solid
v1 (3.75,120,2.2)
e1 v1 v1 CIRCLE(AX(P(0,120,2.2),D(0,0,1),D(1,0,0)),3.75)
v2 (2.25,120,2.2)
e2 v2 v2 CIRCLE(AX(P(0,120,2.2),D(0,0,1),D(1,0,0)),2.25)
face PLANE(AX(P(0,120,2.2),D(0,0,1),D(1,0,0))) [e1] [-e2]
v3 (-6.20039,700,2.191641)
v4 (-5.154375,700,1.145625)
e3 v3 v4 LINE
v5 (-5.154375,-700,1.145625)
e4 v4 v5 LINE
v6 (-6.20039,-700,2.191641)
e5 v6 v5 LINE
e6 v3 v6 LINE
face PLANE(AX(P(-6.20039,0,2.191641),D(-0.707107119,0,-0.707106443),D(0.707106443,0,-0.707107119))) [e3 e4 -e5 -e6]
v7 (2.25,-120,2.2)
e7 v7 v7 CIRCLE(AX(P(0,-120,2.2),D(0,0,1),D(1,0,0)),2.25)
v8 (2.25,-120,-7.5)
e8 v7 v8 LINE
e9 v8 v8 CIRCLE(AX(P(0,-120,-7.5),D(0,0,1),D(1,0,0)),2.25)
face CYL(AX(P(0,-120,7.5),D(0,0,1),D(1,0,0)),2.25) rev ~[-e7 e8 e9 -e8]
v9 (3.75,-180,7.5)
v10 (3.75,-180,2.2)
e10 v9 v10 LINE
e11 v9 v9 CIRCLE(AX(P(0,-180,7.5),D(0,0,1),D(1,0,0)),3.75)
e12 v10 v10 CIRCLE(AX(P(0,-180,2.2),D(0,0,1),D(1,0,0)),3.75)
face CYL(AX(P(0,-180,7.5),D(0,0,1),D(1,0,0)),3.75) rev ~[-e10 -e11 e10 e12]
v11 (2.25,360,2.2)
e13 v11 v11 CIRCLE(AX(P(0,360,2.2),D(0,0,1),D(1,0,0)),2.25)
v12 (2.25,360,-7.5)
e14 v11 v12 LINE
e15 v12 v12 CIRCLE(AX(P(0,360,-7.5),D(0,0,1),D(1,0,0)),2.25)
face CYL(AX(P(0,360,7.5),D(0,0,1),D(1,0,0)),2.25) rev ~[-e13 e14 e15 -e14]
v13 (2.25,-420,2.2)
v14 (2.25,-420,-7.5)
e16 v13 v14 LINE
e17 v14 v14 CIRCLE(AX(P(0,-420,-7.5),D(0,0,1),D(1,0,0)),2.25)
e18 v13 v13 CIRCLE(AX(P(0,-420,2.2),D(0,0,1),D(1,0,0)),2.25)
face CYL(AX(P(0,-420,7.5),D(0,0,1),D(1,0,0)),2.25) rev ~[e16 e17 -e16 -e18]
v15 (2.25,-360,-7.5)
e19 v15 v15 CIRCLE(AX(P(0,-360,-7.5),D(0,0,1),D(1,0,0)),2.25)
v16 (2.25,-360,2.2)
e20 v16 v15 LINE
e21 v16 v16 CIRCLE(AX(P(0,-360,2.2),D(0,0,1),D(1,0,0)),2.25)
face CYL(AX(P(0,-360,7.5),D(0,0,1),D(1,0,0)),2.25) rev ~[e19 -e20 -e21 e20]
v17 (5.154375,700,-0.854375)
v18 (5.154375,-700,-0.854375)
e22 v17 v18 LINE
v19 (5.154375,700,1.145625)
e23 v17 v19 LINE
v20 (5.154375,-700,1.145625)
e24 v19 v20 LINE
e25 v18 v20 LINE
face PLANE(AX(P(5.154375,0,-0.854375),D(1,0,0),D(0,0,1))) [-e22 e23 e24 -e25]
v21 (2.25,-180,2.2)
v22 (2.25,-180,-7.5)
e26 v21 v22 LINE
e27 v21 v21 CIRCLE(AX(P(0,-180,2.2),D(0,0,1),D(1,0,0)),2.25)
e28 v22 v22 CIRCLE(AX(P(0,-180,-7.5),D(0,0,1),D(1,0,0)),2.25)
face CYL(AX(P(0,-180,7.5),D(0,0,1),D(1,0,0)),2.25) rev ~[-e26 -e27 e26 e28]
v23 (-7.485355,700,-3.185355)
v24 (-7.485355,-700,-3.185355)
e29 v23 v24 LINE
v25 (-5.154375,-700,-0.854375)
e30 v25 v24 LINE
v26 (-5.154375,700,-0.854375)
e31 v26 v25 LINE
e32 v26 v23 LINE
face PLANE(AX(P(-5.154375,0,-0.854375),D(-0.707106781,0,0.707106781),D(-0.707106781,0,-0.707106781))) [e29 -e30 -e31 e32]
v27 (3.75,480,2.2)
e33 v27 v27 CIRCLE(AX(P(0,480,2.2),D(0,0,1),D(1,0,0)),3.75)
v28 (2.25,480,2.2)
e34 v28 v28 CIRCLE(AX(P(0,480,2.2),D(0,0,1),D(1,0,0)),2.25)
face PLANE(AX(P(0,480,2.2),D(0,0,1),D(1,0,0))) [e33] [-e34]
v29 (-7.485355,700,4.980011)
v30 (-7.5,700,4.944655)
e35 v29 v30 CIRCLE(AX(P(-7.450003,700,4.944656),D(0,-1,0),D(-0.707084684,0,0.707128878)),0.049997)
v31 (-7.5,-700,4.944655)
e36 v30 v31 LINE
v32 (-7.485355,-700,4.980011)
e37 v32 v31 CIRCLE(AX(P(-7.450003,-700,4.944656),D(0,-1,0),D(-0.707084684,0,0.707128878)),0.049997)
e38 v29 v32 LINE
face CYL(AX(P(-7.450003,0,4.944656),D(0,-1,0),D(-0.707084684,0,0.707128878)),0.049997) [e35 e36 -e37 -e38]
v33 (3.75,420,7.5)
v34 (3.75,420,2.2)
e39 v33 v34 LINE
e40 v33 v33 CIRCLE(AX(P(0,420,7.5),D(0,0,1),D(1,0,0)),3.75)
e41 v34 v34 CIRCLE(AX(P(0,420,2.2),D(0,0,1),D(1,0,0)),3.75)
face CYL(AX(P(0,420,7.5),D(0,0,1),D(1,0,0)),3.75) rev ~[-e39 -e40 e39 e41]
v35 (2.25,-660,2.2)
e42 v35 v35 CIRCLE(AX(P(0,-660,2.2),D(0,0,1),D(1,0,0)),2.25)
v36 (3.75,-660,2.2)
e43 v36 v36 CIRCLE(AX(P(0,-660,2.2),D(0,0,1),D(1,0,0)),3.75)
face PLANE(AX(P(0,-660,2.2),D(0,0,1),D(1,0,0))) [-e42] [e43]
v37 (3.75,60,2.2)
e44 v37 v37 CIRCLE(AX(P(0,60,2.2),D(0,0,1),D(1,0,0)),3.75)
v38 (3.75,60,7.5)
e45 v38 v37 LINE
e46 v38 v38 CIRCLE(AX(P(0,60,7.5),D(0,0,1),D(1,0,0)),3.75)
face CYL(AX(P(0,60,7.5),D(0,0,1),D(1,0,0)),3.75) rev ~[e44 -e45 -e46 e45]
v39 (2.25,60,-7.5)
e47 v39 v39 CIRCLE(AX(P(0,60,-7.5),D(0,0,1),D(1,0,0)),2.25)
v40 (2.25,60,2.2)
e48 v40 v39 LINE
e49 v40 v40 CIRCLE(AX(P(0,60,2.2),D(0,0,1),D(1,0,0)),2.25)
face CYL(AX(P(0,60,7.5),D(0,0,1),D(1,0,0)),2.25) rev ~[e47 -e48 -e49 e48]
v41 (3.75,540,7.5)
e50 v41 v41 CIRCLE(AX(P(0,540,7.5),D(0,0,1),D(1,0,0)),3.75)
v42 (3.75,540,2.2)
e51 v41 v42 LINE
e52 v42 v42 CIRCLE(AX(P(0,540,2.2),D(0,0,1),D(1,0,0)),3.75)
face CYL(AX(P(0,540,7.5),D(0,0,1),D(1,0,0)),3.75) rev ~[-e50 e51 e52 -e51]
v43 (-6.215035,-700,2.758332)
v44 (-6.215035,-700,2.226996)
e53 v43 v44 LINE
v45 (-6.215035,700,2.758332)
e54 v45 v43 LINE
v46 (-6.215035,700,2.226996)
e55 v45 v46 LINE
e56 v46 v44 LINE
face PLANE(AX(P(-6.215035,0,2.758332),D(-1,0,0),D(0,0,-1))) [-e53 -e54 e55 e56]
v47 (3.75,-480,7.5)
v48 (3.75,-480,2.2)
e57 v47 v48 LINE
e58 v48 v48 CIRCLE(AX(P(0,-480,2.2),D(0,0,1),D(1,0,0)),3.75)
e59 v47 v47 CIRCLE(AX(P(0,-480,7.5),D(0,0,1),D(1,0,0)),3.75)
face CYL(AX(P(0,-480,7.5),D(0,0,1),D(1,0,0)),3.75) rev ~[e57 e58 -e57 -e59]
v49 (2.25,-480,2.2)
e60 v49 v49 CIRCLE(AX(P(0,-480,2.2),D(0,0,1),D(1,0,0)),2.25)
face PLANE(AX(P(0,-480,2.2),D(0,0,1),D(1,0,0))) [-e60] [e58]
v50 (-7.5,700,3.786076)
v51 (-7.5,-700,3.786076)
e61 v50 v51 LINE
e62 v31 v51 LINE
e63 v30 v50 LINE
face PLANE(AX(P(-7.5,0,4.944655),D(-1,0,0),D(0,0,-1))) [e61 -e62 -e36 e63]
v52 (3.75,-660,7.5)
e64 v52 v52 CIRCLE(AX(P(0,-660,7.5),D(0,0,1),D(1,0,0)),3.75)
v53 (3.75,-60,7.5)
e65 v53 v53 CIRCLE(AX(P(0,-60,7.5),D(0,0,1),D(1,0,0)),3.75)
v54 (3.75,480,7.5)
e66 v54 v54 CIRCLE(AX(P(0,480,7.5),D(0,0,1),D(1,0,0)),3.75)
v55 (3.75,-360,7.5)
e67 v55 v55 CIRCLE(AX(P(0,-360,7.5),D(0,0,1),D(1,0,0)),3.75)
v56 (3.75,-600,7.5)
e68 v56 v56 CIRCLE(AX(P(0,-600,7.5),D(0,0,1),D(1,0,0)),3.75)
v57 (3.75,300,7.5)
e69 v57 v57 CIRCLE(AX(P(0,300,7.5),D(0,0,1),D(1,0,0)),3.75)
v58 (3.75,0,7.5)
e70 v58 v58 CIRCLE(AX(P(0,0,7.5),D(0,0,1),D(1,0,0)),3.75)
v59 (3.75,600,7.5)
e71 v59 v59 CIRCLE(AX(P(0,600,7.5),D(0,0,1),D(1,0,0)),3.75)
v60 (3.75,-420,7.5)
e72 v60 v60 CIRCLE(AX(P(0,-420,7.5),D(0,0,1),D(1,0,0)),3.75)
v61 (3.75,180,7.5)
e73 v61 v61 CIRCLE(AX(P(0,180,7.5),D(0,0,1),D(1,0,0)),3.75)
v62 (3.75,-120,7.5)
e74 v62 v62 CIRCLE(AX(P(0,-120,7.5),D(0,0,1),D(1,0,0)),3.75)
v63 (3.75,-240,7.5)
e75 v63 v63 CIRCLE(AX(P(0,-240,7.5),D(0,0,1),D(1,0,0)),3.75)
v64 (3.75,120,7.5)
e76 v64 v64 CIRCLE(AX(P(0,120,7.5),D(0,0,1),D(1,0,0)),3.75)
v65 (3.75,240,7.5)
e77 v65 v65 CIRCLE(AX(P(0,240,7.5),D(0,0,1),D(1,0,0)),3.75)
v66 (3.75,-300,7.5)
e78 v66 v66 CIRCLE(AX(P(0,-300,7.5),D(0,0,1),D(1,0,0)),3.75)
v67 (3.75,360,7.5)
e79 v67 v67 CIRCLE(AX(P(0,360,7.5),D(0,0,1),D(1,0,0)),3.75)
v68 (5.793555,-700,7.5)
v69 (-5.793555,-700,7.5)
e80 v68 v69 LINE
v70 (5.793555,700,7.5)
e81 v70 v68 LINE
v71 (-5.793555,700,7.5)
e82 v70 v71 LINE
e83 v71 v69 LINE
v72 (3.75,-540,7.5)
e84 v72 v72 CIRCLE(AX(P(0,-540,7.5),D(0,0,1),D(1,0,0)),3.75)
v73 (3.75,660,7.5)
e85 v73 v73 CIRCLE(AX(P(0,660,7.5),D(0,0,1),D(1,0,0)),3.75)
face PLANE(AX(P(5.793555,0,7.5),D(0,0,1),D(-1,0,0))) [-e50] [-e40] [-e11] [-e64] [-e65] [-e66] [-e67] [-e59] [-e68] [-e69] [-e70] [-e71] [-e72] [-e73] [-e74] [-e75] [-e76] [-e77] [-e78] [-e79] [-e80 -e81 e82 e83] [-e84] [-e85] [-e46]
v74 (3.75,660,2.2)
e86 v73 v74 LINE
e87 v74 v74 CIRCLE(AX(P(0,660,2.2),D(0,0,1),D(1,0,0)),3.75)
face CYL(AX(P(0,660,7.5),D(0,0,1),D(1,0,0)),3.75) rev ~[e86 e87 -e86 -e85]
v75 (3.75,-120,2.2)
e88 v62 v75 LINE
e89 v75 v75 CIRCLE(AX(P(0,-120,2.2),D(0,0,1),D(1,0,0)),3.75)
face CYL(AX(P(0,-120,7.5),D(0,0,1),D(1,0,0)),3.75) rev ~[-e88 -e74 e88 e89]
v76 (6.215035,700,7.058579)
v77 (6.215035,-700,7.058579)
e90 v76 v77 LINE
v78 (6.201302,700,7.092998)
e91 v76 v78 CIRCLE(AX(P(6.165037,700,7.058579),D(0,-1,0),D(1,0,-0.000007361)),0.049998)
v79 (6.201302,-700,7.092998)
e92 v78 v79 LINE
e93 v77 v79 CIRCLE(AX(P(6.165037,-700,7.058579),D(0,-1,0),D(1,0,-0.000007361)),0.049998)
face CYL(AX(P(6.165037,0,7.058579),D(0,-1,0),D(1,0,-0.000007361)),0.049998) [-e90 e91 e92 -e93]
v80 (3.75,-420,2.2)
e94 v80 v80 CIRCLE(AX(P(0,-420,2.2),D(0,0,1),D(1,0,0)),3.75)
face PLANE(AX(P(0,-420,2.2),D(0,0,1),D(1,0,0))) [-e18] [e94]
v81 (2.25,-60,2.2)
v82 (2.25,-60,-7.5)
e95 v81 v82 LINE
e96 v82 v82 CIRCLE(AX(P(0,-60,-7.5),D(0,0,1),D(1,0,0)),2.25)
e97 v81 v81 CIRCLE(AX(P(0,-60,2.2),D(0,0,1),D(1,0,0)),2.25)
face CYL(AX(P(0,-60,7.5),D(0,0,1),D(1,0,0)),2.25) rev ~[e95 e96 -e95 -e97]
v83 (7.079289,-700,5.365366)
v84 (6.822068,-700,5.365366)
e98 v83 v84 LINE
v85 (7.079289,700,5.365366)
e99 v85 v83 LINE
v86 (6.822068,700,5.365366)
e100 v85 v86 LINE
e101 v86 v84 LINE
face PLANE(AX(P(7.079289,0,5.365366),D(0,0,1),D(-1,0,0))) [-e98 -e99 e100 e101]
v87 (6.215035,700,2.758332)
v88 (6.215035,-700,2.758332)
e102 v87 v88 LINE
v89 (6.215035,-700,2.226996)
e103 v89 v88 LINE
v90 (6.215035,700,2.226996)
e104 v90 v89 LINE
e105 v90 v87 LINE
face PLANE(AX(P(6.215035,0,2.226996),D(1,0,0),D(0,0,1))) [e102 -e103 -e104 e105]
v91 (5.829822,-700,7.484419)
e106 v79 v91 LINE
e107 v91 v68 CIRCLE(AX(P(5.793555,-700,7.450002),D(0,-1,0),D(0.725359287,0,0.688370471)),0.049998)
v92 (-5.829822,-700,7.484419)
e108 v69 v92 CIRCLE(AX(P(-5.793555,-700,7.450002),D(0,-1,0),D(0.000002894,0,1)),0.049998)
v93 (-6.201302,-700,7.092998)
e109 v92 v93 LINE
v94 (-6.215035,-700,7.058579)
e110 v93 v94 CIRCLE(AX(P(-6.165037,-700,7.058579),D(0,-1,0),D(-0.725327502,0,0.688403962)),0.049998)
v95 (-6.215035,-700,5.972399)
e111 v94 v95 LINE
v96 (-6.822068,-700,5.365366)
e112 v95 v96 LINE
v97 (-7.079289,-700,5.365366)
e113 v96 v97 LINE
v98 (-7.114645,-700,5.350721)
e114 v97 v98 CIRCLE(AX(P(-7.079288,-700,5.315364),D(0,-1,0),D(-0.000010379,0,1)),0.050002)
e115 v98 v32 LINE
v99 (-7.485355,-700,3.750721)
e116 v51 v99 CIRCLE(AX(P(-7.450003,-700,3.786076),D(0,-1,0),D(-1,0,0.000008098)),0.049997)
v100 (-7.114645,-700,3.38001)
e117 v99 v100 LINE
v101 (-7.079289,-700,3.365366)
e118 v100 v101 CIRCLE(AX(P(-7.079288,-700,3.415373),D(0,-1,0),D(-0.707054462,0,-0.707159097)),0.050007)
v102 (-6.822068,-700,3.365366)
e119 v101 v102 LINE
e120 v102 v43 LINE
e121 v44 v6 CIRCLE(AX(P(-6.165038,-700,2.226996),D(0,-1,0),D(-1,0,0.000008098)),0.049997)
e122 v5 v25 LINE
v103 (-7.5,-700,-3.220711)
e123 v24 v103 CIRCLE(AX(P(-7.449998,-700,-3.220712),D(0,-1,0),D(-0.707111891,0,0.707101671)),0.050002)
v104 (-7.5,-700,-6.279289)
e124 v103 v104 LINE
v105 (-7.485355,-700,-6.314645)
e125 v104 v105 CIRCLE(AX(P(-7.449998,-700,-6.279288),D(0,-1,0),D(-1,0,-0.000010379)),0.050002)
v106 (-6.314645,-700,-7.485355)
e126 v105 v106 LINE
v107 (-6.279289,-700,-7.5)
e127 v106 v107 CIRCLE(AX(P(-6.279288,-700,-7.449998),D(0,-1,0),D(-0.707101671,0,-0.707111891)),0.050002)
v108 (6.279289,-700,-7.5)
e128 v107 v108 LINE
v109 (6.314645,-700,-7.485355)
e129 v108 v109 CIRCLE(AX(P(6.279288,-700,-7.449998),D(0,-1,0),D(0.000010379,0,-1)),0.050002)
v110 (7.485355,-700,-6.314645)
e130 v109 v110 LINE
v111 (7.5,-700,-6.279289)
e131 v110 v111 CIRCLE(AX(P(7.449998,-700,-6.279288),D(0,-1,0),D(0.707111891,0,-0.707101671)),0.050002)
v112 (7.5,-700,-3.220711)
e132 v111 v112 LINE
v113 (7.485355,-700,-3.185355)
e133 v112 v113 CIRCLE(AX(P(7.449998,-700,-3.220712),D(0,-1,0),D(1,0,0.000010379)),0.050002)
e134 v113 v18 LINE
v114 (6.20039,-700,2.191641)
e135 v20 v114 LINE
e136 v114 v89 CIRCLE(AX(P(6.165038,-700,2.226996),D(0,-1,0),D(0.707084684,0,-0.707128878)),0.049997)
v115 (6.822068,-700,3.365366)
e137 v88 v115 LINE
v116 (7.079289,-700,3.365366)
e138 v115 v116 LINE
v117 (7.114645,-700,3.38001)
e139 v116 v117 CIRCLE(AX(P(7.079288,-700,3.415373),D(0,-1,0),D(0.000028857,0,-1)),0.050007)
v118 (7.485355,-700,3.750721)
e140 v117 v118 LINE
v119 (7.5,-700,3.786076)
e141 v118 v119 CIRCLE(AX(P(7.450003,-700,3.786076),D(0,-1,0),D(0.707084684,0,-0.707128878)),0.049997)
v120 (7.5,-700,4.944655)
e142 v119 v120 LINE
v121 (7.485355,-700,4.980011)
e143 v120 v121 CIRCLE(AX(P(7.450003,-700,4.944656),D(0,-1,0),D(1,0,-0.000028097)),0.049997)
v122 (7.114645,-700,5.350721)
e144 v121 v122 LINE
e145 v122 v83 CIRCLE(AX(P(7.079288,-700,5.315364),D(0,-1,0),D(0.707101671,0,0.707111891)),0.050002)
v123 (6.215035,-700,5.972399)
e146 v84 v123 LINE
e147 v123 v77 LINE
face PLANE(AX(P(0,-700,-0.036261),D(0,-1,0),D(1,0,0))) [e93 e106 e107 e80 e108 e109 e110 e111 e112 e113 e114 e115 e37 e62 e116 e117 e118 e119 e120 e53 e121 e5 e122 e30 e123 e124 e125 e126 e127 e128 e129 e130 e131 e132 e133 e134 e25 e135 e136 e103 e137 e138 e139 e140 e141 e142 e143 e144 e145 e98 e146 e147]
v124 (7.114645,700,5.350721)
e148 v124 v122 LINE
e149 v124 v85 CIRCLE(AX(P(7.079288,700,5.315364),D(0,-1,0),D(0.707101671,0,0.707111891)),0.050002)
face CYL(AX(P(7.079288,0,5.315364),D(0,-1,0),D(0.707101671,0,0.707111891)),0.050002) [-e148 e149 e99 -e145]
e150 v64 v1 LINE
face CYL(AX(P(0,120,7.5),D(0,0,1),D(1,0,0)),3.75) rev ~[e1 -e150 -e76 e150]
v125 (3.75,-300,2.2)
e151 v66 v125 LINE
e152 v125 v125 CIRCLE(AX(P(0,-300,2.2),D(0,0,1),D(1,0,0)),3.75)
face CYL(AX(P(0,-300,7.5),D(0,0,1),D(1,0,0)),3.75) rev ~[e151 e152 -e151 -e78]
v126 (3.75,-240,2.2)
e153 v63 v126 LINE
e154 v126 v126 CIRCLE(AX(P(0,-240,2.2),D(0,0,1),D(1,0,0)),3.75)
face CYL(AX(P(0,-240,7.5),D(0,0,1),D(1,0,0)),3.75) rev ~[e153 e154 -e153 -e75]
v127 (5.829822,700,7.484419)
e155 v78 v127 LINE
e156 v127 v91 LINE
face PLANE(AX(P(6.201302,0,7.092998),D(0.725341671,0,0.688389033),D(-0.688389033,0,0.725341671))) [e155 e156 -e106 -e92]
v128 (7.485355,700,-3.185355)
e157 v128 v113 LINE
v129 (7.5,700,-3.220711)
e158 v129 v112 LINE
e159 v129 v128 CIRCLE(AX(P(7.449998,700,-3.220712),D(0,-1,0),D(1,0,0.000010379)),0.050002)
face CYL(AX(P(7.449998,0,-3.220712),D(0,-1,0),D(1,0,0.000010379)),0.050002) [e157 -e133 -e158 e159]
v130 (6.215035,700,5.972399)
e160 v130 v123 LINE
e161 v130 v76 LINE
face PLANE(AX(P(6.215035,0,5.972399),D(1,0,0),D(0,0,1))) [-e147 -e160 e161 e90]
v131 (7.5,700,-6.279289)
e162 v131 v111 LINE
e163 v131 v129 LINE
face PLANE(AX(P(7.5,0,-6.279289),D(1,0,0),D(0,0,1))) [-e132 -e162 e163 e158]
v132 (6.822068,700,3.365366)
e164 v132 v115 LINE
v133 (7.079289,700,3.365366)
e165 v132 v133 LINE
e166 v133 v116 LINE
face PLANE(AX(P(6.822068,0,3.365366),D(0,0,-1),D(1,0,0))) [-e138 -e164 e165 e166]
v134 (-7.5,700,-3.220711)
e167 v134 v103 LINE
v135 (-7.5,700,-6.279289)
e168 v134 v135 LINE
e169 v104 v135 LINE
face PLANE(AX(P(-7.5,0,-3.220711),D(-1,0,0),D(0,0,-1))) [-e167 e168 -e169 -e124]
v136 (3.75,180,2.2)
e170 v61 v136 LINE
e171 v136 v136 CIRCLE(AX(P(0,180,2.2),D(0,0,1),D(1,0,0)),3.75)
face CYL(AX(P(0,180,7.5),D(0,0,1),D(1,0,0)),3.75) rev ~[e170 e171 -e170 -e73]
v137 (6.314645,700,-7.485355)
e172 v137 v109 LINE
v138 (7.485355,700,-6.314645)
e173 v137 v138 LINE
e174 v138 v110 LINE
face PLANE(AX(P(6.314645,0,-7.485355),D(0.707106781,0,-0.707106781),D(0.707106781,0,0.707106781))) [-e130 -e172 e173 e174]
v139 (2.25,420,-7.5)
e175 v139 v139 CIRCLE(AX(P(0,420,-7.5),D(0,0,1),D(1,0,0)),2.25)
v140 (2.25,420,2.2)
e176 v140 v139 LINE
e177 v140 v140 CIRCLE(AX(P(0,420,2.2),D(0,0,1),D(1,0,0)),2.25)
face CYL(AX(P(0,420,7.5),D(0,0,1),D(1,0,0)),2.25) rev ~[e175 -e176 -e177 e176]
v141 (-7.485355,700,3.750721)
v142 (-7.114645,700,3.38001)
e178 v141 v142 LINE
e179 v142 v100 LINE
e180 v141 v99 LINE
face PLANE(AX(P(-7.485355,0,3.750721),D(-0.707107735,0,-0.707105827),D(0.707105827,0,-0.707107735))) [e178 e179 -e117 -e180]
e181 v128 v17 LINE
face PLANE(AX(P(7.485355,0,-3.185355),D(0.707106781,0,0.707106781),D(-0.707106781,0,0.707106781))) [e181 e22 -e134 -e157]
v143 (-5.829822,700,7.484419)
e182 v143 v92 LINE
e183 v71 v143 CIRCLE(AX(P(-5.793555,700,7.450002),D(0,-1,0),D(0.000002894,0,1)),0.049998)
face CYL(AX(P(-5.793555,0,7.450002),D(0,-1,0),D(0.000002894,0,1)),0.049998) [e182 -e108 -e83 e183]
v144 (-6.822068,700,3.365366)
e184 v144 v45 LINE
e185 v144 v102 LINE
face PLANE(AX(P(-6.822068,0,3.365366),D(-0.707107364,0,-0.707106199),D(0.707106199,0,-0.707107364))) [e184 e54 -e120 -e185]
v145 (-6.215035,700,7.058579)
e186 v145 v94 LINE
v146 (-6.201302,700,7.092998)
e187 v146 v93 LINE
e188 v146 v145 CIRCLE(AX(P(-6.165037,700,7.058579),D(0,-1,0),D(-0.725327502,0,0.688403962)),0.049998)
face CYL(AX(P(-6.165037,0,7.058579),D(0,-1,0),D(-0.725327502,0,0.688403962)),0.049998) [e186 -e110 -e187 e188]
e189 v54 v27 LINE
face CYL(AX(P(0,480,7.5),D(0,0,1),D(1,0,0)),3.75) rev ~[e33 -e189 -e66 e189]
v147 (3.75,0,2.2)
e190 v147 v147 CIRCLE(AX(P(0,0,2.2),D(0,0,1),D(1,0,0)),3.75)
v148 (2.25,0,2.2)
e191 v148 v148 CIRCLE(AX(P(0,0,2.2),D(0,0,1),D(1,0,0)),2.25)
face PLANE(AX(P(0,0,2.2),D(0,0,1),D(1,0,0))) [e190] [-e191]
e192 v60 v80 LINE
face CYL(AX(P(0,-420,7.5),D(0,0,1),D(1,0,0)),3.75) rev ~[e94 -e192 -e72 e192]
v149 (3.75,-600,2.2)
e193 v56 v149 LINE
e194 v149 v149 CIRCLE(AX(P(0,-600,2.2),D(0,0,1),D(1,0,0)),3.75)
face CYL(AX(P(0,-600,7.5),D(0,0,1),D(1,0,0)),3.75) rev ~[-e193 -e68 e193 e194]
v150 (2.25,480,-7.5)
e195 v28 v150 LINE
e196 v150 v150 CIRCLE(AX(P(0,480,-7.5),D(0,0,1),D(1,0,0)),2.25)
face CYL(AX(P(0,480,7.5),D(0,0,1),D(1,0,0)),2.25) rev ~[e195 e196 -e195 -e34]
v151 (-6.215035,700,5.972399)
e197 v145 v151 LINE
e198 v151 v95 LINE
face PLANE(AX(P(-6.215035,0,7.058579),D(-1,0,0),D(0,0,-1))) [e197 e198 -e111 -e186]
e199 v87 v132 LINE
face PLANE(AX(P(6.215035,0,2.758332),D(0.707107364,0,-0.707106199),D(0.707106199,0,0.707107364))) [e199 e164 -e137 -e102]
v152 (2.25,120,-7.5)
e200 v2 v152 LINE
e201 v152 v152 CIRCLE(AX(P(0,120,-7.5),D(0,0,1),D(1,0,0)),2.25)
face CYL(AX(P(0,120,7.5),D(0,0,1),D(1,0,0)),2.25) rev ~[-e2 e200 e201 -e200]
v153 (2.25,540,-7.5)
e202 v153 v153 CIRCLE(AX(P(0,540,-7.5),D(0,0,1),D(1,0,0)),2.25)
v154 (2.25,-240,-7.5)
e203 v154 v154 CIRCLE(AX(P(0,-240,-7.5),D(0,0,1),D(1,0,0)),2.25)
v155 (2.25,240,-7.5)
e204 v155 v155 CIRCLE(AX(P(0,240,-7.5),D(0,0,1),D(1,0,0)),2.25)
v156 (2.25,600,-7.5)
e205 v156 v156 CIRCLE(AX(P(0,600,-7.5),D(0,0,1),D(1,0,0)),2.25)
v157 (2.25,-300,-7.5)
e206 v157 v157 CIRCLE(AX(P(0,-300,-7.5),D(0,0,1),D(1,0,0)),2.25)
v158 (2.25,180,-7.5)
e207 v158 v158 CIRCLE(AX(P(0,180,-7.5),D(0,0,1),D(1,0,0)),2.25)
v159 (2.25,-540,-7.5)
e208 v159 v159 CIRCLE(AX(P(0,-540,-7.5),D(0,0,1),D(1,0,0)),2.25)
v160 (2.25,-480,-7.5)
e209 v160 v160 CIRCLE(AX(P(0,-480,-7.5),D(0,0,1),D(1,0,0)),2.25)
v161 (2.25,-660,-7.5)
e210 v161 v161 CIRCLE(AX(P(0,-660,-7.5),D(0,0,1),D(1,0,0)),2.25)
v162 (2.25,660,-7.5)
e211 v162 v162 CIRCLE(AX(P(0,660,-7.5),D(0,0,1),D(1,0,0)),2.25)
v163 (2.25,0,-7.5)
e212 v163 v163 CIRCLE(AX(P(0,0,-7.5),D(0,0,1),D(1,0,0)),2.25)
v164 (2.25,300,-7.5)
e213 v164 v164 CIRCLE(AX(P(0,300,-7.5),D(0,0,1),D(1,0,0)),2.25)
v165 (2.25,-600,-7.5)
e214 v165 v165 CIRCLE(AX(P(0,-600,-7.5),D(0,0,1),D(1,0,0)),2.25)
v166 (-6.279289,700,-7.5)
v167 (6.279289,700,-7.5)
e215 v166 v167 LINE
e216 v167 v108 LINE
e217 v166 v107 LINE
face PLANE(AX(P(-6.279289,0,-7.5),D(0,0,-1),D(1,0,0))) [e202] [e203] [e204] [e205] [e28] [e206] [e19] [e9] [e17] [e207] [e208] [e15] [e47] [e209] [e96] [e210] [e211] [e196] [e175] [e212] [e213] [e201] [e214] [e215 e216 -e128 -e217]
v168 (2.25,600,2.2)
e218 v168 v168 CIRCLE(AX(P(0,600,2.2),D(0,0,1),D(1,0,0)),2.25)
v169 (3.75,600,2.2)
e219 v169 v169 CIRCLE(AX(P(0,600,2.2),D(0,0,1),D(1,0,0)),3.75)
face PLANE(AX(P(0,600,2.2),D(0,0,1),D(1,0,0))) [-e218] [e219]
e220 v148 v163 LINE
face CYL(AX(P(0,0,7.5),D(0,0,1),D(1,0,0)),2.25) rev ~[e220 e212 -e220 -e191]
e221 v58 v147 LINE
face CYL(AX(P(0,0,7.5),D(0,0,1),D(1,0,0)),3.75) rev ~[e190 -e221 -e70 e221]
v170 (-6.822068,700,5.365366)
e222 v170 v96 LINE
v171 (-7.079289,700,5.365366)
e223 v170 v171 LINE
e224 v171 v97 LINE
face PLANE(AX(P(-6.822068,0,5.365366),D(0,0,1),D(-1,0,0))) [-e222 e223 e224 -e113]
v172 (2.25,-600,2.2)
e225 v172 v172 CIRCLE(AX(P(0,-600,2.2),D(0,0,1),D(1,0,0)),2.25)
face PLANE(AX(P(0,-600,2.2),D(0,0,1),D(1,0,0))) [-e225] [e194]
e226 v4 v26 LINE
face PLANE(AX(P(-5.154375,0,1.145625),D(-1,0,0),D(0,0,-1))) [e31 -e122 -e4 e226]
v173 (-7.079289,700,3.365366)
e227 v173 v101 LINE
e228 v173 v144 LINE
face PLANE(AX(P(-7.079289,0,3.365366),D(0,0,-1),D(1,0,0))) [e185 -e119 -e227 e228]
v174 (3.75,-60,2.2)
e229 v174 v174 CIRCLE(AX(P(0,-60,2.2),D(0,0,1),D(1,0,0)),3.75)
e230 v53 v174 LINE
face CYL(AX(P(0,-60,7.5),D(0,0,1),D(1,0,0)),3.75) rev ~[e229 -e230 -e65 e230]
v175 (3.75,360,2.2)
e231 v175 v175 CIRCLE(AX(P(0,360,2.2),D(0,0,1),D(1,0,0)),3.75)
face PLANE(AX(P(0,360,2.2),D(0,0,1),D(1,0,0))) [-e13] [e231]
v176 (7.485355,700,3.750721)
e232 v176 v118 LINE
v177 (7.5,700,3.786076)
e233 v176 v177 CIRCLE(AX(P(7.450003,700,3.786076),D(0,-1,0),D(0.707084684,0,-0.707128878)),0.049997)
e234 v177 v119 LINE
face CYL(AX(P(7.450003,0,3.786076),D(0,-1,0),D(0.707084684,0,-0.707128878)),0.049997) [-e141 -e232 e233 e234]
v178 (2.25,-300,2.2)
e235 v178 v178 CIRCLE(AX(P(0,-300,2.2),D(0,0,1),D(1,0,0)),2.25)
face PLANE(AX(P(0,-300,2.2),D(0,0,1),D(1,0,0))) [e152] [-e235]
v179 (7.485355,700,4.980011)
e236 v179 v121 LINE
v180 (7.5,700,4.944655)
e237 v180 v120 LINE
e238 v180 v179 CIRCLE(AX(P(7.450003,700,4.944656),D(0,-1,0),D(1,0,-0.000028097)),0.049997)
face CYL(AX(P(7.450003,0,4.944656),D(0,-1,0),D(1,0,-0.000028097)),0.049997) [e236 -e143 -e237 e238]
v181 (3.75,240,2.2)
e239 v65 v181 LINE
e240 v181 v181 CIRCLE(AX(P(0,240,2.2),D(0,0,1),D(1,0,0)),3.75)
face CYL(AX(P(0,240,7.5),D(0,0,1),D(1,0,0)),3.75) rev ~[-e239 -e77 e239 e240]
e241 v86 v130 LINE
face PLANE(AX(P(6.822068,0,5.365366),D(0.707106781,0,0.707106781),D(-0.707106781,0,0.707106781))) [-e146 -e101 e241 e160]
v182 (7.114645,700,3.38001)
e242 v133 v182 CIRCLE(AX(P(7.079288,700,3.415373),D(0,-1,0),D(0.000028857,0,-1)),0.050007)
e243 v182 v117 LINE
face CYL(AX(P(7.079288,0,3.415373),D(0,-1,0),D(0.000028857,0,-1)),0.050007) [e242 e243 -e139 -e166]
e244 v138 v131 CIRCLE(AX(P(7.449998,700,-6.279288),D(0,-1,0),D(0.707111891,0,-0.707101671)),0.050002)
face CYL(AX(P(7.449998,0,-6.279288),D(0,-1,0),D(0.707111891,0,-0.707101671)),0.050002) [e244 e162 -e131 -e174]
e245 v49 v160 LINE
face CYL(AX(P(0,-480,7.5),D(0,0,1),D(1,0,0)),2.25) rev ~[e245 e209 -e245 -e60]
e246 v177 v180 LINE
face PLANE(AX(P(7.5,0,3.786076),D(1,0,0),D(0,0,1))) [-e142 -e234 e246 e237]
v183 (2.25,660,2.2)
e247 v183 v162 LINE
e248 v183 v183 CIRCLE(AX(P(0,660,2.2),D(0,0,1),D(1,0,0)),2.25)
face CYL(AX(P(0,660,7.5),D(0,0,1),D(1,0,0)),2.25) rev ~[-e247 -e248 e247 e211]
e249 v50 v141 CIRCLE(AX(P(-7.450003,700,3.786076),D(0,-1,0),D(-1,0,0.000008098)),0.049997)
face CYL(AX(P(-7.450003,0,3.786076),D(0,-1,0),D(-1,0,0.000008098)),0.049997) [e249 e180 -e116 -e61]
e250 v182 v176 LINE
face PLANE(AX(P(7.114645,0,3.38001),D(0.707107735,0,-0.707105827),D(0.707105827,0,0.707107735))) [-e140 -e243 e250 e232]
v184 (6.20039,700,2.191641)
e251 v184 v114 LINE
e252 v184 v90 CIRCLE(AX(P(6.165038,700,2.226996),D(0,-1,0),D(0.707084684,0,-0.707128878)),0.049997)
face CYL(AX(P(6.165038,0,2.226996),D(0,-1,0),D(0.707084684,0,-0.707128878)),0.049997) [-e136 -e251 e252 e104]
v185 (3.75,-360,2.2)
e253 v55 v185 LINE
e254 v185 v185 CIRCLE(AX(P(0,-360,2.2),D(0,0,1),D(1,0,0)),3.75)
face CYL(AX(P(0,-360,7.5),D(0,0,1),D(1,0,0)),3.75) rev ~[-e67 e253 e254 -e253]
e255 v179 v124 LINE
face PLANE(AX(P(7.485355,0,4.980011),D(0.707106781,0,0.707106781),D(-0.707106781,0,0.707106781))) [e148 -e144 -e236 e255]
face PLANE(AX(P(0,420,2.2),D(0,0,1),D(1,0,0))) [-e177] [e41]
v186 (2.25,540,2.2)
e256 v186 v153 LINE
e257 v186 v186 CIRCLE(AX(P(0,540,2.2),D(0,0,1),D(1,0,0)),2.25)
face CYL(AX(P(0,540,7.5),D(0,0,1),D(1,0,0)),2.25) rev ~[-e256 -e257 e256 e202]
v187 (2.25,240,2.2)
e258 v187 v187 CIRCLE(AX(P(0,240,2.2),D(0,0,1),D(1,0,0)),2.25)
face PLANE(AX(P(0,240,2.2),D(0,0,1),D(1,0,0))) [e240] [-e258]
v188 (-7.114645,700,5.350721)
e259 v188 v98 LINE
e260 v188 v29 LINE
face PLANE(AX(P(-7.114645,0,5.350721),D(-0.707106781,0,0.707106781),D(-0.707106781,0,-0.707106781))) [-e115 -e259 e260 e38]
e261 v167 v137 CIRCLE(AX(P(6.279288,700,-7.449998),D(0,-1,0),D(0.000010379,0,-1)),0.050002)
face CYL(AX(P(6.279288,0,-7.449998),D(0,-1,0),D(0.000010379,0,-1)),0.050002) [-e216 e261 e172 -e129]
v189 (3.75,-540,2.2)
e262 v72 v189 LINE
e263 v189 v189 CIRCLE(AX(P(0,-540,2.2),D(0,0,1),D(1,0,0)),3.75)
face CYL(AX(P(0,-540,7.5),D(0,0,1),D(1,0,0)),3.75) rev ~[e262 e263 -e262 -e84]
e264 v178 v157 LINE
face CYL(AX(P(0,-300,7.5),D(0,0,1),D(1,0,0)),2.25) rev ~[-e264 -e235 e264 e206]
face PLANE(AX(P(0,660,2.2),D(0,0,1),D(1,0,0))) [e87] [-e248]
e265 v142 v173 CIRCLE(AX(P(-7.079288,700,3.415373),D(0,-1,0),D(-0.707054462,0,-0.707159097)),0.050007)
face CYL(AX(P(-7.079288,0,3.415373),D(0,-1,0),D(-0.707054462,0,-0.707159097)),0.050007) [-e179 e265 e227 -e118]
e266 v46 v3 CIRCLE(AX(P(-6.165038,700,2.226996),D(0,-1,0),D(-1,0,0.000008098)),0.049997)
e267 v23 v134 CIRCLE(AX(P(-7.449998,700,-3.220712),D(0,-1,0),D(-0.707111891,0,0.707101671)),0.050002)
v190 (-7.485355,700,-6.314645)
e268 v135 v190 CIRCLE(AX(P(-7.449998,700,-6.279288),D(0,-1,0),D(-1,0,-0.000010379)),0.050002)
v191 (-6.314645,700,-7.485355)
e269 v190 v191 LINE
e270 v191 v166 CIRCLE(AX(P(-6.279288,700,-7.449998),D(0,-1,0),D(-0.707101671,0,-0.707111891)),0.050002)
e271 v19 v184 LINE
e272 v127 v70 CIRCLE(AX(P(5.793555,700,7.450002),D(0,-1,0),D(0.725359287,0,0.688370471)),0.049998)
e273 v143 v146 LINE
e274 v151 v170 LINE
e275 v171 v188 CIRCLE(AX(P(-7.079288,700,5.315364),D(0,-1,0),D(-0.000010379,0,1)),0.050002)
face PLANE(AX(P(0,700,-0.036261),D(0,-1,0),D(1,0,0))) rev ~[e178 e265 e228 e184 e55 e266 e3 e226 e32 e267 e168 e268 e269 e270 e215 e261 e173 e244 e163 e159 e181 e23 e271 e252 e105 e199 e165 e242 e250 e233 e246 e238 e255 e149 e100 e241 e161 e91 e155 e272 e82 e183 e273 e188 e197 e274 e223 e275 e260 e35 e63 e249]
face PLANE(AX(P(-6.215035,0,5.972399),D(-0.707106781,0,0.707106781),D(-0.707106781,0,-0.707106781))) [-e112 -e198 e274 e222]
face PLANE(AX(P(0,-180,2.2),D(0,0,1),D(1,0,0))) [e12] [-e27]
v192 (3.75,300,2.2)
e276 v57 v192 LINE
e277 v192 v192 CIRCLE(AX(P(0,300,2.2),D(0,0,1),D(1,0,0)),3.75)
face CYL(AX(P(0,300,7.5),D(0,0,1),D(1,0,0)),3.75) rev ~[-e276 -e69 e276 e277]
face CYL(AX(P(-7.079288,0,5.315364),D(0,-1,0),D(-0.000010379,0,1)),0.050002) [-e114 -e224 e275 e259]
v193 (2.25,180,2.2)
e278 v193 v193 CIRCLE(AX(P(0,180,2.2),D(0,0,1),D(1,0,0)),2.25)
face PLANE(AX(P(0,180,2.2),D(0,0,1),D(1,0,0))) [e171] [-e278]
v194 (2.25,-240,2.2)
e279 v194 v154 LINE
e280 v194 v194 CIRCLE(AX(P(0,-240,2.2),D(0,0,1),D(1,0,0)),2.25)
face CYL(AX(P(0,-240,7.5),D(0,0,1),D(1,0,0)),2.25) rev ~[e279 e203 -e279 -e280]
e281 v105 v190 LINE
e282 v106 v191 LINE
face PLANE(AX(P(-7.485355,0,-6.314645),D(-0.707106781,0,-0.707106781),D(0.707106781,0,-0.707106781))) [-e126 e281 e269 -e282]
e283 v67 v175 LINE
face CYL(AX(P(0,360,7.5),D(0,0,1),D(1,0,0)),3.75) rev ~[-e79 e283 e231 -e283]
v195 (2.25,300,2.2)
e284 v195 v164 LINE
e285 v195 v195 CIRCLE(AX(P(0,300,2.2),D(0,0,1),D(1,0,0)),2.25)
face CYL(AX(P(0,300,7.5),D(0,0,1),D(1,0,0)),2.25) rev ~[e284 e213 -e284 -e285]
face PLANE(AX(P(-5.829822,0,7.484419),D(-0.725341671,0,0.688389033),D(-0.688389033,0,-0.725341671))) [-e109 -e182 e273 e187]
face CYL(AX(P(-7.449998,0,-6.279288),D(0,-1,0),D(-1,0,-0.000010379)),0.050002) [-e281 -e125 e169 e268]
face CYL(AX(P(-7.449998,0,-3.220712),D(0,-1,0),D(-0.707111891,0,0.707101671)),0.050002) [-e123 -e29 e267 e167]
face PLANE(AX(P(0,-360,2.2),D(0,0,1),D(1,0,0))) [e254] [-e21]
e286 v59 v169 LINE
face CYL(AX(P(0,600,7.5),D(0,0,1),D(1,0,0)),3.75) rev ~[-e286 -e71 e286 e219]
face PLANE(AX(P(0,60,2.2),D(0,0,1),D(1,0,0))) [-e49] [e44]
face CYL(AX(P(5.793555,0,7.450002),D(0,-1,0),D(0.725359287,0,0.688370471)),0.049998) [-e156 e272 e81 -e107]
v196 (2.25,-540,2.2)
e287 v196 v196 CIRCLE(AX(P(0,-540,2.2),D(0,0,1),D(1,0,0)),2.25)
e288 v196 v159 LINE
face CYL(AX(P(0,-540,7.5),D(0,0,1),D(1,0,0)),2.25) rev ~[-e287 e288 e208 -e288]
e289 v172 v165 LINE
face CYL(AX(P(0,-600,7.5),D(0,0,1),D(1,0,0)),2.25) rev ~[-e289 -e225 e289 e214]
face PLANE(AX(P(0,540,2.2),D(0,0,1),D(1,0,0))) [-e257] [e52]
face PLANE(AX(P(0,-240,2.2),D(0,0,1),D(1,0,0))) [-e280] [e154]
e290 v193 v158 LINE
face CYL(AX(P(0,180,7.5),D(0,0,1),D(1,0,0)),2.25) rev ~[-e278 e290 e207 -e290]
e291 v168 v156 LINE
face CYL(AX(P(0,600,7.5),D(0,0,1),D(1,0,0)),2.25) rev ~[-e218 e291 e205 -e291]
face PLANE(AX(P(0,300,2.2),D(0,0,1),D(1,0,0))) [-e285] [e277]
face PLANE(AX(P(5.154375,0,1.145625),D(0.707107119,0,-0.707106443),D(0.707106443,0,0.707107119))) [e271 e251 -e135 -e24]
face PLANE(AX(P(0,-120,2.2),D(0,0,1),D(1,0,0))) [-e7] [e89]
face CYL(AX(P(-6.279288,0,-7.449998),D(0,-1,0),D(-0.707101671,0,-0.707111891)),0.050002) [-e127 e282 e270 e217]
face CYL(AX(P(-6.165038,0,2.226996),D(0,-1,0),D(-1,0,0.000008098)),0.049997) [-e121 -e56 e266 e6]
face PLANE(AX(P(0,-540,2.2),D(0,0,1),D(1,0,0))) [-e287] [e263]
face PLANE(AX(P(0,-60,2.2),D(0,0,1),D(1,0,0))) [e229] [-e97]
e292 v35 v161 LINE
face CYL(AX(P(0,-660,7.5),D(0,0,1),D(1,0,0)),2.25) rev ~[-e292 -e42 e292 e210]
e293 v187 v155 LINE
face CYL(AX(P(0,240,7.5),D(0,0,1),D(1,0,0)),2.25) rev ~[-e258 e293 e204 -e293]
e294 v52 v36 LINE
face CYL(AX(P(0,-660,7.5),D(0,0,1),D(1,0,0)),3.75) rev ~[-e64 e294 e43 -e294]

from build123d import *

# Parameters (mm, degrees)
F1_DEPTH = 700
F2_R     = 2.25
F3_DEPTH = 25
F2_R_2   = 3.75
F4_DEPTH = 5.3


with BuildPart() as f1:
    # F0 (on Front) → F1 (new body, symmetric)
    with BuildSketch(Plane.XZ):
        with BuildLine():
            ThreePointArc((-6.314645, -7.485355), (-6.298423, -7.496194), (-6.279289, -7.5))
            Line((-6.279289, -7.5), (6.279289, -7.5))
            ThreePointArc((6.279289, -7.5), (6.298423, -7.496194), (6.314645, -7.485355))
            Line((6.314645, -7.485355), (7.485355, -6.314645))
            ThreePointArc((7.485355, -6.314645), (7.496194, -6.298423), (7.5, -6.279289))
            Line((7.5, -6.279289), (7.5, -3.220711))
            ThreePointArc((7.5, -3.220711), (7.496194, -3.201577), (7.485355, -3.185355))
            Line((7.485355, -3.185355), (5.154375, -0.854375))
            Line((5.154375, -0.854375), (5.154375, 1.145625))
            Line((5.154375, 1.145625), (6.20039, 2.191641))
            ThreePointArc((6.20039, 2.191641), (6.211229, 2.207862), (6.215035, 2.226996))
            Line((6.215035, 2.226996), (6.215035, 2.758332))
            Line((6.215035, 2.758332), (6.822068, 3.365366))
            Line((6.822068, 3.365366), (7.079289, 3.365366))
            ThreePointArc((7.079289, 3.365366), (7.098423, 3.369172), (7.114645, 3.38001))
            Line((7.114645, 3.38001), (7.485355, 3.750721))
            ThreePointArc((7.485355, 3.750721), (7.496194, 3.766942), (7.5, 3.786076))
            Line((7.5, 3.786076), (7.5, 4.944655))
            ThreePointArc((7.5, 4.944655), (7.496194, 4.96379), (7.485355, 4.980011))
            Line((7.485355, 4.980011), (7.114645, 5.350721))
            ThreePointArc((7.114645, 5.350721), (7.098423, 5.36156), (7.079289, 5.365366))
            Line((7.079289, 5.365366), (6.822068, 5.365366))
            Line((6.822068, 5.365366), (6.215035, 5.972399))
            Line((6.215035, 5.972399), (6.215035, 7.058579))
            ThreePointArc((6.215035, 7.058579), (6.211475, 7.077108), (6.201302, 7.092998))
            Line((6.201302, 7.092998), (5.829822, 7.484419))
            ThreePointArc((5.829822, 7.484419), (5.813291, 7.49594), (5.793555, 7.5))
            Line((5.793555, 7.5), (-5.793555, 7.5))
            ThreePointArc((-5.793555, 7.5), (-5.813291, 7.49594), (-5.829822, 7.484419))
            Line((-5.829822, 7.484419), (-6.201302, 7.092998))
            ThreePointArc((-6.201302, 7.092998), (-6.211475, 7.077108), (-6.215035, 7.058579))
            Line((-6.215035, 7.058579), (-6.215035, 5.972399))
            Line((-6.215035, 5.972399), (-6.822068, 5.365366))
            Line((-6.822068, 5.365366), (-7.079289, 5.365366))
            ThreePointArc((-7.079289, 5.365366), (-7.098423, 5.36156), (-7.114645, 5.350721))
            Line((-7.114645, 5.350721), (-7.485355, 4.980011))
            ThreePointArc((-7.485355, 4.980011), (-7.496194, 4.96379), (-7.5, 4.944655))
            Line((-7.5, 4.944655), (-7.5, 3.786076))
            ThreePointArc((-7.5, 3.786076), (-7.496194, 3.766942), (-7.485355, 3.750721))
            Line((-7.485355, 3.750721), (-7.114645, 3.38001))
            ThreePointArc((-7.114645, 3.38001), (-7.098423, 3.369172), (-7.079289, 3.365366))
            Line((-7.079289, 3.365366), (-6.822068, 3.365366))
            Line((-6.822068, 3.365366), (-6.215035, 2.758332))
            Line((-6.215035, 2.758332), (-6.215035, 2.226996))
            ThreePointArc((-6.215035, 2.226996), (-6.211229, 2.207862), (-6.20039, 2.191641))
            Line((-6.20039, 2.191641), (-5.154375, 1.145625))
            Line((-5.154375, 1.145625), (-5.154375, -0.854375))
            Line((-5.154375, -0.854375), (-7.485355, -3.185355))
            ThreePointArc((-7.485355, -3.185355), (-7.496194, -3.201577), (-7.5, -3.220711))
            Line((-7.5, -3.220711), (-7.5, -6.279289))
            ThreePointArc((-7.5, -6.279289), (-7.496194, -6.298423), (-7.485355, -6.314645))
            Line((-7.485355, -6.314645), (-6.314645, -7.485355))
        make_face()
    extrude(amount=F1_DEPTH, both=True)

    # F2 (on face) → F3 (cut)
    with BuildSketch(Plane.XY.offset(7.5)):
        with Locations((0, -600)):
            Circle(F2_R)
        with Locations((0, -540)):
            Circle(F2_R)
        with Locations((0, -480)):
            Circle(F2_R)
        with Locations((0, -420)):
            Circle(F2_R)
        with Locations((0, -360)):
            Circle(F2_R)
        with Locations((0, -300)):
            Circle(F2_R)
        with Locations((0, -240)):
            Circle(F2_R)
        with Locations((0, -180)):
            Circle(F2_R)
        with Locations((0, -120)):
            Circle(F2_R)
        with Locations((0, -60)):
            Circle(F2_R)
        Circle(F2_R)
        with Locations((0, 60)):
            Circle(F2_R)
        with Locations((0, 180)):
            Circle(F2_R)
        with Locations((0, 120)):
            Circle(F2_R)
        with Locations((0, 300)):
            Circle(F2_R)
        with Locations((0, 240)):
            Circle(F2_R)
        with Locations((0, 360)):
            Circle(F2_R)
        with Locations((0, 420)):
            Circle(F2_R)
        with Locations((0, 480)):
            Circle(F2_R)
        with Locations((0, 660)):
            Circle(F2_R)
        with Locations((0, 600)):
            Circle(F2_R)
        with Locations((0, 540)):
            Circle(F2_R)
        with Locations((0, -660)):
            Circle(F2_R)
    extrude(amount=-F3_DEPTH, mode=Mode.SUBTRACT)

    # F2 (on face) → F4 (cut)
    with BuildSketch(Plane.XY.offset(7.5)):
        with Locations((0, -660)):
            Circle(F2_R_2)
        with Locations((0, -660)):
            Circle(F2_R, mode=Mode.SUBTRACT)
        with Locations((0, -600)):
            Circle(F2_R_2)
        with Locations((0, -600)):
            Circle(F2_R, mode=Mode.SUBTRACT)
        with Locations((0, -540)):
            Circle(F2_R_2)
        with Locations((0, -540)):
            Circle(F2_R, mode=Mode.SUBTRACT)
        with Locations((0, -420)):
            Circle(F2_R_2)
        with Locations((0, -420)):
            Circle(F2_R, mode=Mode.SUBTRACT)
        with Locations((0, -480)):
            Circle(F2_R_2)
        with Locations((0, -480)):
            Circle(F2_R, mode=Mode.SUBTRACT)
        with Locations((0, -360)):
            Circle(F2_R_2)
        with Locations((0, -360)):
            Circle(F2_R, mode=Mode.SUBTRACT)
        with Locations((0, -300)):
            Circle(F2_R_2)
        with Locations((0, -300)):
            Circle(F2_R, mode=Mode.SUBTRACT)
        with Locations((0, -240)):
            Circle(F2_R_2)
        with Locations((0, -240)):
            Circle(F2_R, mode=Mode.SUBTRACT)
        with Locations((0, -180)):
            Circle(F2_R_2)
        with Locations((0, -180)):
            Circle(F2_R, mode=Mode.SUBTRACT)
        with Locations((0, -120)):
            Circle(F2_R_2)
        with Locations((0, -120)):
            Circle(F2_R, mode=Mode.SUBTRACT)
        with Locations((0, -60)):
            Circle(F2_R_2)
        with Locations((0, -60)):
            Circle(F2_R, mode=Mode.SUBTRACT)
        Circle(F2_R_2)
        Circle(F2_R, mode=Mode.SUBTRACT)
        with Locations((0, 60)):
            Circle(F2_R_2)
        with Locations((0, 60)):
            Circle(F2_R, mode=Mode.SUBTRACT)
        with Locations((0, 120)):
            Circle(F2_R_2)
        with Locations((0, 120)):
            Circle(F2_R, mode=Mode.SUBTRACT)
        with Locations((0, 180)):
            Circle(F2_R_2)
        with Locations((0, 180)):
            Circle(F2_R, mode=Mode.SUBTRACT)
        with Locations((0, 240)):
            Circle(F2_R_2)
        with Locations((0, 240)):
            Circle(F2_R, mode=Mode.SUBTRACT)
        with Locations((0, 360)):
            Circle(F2_R_2)
        with Locations((0, 360)):
            Circle(F2_R, mode=Mode.SUBTRACT)
        with Locations((0, 300)):
            Circle(F2_R_2)
        with Locations((0, 300)):
            Circle(F2_R, mode=Mode.SUBTRACT)
        with Locations((0, 420)):
            Circle(F2_R_2)
        with Locations((0, 420)):
            Circle(F2_R, mode=Mode.SUBTRACT)
        with Locations((0, 480)):
            Circle(F2_R_2)
        with Locations((0, 480)):
            Circle(F2_R, mode=Mode.SUBTRACT)
        with Locations((0, 600)):
            Circle(F2_R_2)
        with Locations((0, 600)):
            Circle(F2_R, mode=Mode.SUBTRACT)
        with Locations((0, 540)):
            Circle(F2_R_2)
        with Locations((0, 540)):
            Circle(F2_R, mode=Mode.SUBTRACT)
        with Locations((0, 660)):
            Circle(F2_R_2)
        with Locations((0, 660)):
            Circle(F2_R, mode=Mode.SUBTRACT)
    extrude(amount=-F4_DEPTH, mode=Mode.SUBTRACT)


solid = f1.part
